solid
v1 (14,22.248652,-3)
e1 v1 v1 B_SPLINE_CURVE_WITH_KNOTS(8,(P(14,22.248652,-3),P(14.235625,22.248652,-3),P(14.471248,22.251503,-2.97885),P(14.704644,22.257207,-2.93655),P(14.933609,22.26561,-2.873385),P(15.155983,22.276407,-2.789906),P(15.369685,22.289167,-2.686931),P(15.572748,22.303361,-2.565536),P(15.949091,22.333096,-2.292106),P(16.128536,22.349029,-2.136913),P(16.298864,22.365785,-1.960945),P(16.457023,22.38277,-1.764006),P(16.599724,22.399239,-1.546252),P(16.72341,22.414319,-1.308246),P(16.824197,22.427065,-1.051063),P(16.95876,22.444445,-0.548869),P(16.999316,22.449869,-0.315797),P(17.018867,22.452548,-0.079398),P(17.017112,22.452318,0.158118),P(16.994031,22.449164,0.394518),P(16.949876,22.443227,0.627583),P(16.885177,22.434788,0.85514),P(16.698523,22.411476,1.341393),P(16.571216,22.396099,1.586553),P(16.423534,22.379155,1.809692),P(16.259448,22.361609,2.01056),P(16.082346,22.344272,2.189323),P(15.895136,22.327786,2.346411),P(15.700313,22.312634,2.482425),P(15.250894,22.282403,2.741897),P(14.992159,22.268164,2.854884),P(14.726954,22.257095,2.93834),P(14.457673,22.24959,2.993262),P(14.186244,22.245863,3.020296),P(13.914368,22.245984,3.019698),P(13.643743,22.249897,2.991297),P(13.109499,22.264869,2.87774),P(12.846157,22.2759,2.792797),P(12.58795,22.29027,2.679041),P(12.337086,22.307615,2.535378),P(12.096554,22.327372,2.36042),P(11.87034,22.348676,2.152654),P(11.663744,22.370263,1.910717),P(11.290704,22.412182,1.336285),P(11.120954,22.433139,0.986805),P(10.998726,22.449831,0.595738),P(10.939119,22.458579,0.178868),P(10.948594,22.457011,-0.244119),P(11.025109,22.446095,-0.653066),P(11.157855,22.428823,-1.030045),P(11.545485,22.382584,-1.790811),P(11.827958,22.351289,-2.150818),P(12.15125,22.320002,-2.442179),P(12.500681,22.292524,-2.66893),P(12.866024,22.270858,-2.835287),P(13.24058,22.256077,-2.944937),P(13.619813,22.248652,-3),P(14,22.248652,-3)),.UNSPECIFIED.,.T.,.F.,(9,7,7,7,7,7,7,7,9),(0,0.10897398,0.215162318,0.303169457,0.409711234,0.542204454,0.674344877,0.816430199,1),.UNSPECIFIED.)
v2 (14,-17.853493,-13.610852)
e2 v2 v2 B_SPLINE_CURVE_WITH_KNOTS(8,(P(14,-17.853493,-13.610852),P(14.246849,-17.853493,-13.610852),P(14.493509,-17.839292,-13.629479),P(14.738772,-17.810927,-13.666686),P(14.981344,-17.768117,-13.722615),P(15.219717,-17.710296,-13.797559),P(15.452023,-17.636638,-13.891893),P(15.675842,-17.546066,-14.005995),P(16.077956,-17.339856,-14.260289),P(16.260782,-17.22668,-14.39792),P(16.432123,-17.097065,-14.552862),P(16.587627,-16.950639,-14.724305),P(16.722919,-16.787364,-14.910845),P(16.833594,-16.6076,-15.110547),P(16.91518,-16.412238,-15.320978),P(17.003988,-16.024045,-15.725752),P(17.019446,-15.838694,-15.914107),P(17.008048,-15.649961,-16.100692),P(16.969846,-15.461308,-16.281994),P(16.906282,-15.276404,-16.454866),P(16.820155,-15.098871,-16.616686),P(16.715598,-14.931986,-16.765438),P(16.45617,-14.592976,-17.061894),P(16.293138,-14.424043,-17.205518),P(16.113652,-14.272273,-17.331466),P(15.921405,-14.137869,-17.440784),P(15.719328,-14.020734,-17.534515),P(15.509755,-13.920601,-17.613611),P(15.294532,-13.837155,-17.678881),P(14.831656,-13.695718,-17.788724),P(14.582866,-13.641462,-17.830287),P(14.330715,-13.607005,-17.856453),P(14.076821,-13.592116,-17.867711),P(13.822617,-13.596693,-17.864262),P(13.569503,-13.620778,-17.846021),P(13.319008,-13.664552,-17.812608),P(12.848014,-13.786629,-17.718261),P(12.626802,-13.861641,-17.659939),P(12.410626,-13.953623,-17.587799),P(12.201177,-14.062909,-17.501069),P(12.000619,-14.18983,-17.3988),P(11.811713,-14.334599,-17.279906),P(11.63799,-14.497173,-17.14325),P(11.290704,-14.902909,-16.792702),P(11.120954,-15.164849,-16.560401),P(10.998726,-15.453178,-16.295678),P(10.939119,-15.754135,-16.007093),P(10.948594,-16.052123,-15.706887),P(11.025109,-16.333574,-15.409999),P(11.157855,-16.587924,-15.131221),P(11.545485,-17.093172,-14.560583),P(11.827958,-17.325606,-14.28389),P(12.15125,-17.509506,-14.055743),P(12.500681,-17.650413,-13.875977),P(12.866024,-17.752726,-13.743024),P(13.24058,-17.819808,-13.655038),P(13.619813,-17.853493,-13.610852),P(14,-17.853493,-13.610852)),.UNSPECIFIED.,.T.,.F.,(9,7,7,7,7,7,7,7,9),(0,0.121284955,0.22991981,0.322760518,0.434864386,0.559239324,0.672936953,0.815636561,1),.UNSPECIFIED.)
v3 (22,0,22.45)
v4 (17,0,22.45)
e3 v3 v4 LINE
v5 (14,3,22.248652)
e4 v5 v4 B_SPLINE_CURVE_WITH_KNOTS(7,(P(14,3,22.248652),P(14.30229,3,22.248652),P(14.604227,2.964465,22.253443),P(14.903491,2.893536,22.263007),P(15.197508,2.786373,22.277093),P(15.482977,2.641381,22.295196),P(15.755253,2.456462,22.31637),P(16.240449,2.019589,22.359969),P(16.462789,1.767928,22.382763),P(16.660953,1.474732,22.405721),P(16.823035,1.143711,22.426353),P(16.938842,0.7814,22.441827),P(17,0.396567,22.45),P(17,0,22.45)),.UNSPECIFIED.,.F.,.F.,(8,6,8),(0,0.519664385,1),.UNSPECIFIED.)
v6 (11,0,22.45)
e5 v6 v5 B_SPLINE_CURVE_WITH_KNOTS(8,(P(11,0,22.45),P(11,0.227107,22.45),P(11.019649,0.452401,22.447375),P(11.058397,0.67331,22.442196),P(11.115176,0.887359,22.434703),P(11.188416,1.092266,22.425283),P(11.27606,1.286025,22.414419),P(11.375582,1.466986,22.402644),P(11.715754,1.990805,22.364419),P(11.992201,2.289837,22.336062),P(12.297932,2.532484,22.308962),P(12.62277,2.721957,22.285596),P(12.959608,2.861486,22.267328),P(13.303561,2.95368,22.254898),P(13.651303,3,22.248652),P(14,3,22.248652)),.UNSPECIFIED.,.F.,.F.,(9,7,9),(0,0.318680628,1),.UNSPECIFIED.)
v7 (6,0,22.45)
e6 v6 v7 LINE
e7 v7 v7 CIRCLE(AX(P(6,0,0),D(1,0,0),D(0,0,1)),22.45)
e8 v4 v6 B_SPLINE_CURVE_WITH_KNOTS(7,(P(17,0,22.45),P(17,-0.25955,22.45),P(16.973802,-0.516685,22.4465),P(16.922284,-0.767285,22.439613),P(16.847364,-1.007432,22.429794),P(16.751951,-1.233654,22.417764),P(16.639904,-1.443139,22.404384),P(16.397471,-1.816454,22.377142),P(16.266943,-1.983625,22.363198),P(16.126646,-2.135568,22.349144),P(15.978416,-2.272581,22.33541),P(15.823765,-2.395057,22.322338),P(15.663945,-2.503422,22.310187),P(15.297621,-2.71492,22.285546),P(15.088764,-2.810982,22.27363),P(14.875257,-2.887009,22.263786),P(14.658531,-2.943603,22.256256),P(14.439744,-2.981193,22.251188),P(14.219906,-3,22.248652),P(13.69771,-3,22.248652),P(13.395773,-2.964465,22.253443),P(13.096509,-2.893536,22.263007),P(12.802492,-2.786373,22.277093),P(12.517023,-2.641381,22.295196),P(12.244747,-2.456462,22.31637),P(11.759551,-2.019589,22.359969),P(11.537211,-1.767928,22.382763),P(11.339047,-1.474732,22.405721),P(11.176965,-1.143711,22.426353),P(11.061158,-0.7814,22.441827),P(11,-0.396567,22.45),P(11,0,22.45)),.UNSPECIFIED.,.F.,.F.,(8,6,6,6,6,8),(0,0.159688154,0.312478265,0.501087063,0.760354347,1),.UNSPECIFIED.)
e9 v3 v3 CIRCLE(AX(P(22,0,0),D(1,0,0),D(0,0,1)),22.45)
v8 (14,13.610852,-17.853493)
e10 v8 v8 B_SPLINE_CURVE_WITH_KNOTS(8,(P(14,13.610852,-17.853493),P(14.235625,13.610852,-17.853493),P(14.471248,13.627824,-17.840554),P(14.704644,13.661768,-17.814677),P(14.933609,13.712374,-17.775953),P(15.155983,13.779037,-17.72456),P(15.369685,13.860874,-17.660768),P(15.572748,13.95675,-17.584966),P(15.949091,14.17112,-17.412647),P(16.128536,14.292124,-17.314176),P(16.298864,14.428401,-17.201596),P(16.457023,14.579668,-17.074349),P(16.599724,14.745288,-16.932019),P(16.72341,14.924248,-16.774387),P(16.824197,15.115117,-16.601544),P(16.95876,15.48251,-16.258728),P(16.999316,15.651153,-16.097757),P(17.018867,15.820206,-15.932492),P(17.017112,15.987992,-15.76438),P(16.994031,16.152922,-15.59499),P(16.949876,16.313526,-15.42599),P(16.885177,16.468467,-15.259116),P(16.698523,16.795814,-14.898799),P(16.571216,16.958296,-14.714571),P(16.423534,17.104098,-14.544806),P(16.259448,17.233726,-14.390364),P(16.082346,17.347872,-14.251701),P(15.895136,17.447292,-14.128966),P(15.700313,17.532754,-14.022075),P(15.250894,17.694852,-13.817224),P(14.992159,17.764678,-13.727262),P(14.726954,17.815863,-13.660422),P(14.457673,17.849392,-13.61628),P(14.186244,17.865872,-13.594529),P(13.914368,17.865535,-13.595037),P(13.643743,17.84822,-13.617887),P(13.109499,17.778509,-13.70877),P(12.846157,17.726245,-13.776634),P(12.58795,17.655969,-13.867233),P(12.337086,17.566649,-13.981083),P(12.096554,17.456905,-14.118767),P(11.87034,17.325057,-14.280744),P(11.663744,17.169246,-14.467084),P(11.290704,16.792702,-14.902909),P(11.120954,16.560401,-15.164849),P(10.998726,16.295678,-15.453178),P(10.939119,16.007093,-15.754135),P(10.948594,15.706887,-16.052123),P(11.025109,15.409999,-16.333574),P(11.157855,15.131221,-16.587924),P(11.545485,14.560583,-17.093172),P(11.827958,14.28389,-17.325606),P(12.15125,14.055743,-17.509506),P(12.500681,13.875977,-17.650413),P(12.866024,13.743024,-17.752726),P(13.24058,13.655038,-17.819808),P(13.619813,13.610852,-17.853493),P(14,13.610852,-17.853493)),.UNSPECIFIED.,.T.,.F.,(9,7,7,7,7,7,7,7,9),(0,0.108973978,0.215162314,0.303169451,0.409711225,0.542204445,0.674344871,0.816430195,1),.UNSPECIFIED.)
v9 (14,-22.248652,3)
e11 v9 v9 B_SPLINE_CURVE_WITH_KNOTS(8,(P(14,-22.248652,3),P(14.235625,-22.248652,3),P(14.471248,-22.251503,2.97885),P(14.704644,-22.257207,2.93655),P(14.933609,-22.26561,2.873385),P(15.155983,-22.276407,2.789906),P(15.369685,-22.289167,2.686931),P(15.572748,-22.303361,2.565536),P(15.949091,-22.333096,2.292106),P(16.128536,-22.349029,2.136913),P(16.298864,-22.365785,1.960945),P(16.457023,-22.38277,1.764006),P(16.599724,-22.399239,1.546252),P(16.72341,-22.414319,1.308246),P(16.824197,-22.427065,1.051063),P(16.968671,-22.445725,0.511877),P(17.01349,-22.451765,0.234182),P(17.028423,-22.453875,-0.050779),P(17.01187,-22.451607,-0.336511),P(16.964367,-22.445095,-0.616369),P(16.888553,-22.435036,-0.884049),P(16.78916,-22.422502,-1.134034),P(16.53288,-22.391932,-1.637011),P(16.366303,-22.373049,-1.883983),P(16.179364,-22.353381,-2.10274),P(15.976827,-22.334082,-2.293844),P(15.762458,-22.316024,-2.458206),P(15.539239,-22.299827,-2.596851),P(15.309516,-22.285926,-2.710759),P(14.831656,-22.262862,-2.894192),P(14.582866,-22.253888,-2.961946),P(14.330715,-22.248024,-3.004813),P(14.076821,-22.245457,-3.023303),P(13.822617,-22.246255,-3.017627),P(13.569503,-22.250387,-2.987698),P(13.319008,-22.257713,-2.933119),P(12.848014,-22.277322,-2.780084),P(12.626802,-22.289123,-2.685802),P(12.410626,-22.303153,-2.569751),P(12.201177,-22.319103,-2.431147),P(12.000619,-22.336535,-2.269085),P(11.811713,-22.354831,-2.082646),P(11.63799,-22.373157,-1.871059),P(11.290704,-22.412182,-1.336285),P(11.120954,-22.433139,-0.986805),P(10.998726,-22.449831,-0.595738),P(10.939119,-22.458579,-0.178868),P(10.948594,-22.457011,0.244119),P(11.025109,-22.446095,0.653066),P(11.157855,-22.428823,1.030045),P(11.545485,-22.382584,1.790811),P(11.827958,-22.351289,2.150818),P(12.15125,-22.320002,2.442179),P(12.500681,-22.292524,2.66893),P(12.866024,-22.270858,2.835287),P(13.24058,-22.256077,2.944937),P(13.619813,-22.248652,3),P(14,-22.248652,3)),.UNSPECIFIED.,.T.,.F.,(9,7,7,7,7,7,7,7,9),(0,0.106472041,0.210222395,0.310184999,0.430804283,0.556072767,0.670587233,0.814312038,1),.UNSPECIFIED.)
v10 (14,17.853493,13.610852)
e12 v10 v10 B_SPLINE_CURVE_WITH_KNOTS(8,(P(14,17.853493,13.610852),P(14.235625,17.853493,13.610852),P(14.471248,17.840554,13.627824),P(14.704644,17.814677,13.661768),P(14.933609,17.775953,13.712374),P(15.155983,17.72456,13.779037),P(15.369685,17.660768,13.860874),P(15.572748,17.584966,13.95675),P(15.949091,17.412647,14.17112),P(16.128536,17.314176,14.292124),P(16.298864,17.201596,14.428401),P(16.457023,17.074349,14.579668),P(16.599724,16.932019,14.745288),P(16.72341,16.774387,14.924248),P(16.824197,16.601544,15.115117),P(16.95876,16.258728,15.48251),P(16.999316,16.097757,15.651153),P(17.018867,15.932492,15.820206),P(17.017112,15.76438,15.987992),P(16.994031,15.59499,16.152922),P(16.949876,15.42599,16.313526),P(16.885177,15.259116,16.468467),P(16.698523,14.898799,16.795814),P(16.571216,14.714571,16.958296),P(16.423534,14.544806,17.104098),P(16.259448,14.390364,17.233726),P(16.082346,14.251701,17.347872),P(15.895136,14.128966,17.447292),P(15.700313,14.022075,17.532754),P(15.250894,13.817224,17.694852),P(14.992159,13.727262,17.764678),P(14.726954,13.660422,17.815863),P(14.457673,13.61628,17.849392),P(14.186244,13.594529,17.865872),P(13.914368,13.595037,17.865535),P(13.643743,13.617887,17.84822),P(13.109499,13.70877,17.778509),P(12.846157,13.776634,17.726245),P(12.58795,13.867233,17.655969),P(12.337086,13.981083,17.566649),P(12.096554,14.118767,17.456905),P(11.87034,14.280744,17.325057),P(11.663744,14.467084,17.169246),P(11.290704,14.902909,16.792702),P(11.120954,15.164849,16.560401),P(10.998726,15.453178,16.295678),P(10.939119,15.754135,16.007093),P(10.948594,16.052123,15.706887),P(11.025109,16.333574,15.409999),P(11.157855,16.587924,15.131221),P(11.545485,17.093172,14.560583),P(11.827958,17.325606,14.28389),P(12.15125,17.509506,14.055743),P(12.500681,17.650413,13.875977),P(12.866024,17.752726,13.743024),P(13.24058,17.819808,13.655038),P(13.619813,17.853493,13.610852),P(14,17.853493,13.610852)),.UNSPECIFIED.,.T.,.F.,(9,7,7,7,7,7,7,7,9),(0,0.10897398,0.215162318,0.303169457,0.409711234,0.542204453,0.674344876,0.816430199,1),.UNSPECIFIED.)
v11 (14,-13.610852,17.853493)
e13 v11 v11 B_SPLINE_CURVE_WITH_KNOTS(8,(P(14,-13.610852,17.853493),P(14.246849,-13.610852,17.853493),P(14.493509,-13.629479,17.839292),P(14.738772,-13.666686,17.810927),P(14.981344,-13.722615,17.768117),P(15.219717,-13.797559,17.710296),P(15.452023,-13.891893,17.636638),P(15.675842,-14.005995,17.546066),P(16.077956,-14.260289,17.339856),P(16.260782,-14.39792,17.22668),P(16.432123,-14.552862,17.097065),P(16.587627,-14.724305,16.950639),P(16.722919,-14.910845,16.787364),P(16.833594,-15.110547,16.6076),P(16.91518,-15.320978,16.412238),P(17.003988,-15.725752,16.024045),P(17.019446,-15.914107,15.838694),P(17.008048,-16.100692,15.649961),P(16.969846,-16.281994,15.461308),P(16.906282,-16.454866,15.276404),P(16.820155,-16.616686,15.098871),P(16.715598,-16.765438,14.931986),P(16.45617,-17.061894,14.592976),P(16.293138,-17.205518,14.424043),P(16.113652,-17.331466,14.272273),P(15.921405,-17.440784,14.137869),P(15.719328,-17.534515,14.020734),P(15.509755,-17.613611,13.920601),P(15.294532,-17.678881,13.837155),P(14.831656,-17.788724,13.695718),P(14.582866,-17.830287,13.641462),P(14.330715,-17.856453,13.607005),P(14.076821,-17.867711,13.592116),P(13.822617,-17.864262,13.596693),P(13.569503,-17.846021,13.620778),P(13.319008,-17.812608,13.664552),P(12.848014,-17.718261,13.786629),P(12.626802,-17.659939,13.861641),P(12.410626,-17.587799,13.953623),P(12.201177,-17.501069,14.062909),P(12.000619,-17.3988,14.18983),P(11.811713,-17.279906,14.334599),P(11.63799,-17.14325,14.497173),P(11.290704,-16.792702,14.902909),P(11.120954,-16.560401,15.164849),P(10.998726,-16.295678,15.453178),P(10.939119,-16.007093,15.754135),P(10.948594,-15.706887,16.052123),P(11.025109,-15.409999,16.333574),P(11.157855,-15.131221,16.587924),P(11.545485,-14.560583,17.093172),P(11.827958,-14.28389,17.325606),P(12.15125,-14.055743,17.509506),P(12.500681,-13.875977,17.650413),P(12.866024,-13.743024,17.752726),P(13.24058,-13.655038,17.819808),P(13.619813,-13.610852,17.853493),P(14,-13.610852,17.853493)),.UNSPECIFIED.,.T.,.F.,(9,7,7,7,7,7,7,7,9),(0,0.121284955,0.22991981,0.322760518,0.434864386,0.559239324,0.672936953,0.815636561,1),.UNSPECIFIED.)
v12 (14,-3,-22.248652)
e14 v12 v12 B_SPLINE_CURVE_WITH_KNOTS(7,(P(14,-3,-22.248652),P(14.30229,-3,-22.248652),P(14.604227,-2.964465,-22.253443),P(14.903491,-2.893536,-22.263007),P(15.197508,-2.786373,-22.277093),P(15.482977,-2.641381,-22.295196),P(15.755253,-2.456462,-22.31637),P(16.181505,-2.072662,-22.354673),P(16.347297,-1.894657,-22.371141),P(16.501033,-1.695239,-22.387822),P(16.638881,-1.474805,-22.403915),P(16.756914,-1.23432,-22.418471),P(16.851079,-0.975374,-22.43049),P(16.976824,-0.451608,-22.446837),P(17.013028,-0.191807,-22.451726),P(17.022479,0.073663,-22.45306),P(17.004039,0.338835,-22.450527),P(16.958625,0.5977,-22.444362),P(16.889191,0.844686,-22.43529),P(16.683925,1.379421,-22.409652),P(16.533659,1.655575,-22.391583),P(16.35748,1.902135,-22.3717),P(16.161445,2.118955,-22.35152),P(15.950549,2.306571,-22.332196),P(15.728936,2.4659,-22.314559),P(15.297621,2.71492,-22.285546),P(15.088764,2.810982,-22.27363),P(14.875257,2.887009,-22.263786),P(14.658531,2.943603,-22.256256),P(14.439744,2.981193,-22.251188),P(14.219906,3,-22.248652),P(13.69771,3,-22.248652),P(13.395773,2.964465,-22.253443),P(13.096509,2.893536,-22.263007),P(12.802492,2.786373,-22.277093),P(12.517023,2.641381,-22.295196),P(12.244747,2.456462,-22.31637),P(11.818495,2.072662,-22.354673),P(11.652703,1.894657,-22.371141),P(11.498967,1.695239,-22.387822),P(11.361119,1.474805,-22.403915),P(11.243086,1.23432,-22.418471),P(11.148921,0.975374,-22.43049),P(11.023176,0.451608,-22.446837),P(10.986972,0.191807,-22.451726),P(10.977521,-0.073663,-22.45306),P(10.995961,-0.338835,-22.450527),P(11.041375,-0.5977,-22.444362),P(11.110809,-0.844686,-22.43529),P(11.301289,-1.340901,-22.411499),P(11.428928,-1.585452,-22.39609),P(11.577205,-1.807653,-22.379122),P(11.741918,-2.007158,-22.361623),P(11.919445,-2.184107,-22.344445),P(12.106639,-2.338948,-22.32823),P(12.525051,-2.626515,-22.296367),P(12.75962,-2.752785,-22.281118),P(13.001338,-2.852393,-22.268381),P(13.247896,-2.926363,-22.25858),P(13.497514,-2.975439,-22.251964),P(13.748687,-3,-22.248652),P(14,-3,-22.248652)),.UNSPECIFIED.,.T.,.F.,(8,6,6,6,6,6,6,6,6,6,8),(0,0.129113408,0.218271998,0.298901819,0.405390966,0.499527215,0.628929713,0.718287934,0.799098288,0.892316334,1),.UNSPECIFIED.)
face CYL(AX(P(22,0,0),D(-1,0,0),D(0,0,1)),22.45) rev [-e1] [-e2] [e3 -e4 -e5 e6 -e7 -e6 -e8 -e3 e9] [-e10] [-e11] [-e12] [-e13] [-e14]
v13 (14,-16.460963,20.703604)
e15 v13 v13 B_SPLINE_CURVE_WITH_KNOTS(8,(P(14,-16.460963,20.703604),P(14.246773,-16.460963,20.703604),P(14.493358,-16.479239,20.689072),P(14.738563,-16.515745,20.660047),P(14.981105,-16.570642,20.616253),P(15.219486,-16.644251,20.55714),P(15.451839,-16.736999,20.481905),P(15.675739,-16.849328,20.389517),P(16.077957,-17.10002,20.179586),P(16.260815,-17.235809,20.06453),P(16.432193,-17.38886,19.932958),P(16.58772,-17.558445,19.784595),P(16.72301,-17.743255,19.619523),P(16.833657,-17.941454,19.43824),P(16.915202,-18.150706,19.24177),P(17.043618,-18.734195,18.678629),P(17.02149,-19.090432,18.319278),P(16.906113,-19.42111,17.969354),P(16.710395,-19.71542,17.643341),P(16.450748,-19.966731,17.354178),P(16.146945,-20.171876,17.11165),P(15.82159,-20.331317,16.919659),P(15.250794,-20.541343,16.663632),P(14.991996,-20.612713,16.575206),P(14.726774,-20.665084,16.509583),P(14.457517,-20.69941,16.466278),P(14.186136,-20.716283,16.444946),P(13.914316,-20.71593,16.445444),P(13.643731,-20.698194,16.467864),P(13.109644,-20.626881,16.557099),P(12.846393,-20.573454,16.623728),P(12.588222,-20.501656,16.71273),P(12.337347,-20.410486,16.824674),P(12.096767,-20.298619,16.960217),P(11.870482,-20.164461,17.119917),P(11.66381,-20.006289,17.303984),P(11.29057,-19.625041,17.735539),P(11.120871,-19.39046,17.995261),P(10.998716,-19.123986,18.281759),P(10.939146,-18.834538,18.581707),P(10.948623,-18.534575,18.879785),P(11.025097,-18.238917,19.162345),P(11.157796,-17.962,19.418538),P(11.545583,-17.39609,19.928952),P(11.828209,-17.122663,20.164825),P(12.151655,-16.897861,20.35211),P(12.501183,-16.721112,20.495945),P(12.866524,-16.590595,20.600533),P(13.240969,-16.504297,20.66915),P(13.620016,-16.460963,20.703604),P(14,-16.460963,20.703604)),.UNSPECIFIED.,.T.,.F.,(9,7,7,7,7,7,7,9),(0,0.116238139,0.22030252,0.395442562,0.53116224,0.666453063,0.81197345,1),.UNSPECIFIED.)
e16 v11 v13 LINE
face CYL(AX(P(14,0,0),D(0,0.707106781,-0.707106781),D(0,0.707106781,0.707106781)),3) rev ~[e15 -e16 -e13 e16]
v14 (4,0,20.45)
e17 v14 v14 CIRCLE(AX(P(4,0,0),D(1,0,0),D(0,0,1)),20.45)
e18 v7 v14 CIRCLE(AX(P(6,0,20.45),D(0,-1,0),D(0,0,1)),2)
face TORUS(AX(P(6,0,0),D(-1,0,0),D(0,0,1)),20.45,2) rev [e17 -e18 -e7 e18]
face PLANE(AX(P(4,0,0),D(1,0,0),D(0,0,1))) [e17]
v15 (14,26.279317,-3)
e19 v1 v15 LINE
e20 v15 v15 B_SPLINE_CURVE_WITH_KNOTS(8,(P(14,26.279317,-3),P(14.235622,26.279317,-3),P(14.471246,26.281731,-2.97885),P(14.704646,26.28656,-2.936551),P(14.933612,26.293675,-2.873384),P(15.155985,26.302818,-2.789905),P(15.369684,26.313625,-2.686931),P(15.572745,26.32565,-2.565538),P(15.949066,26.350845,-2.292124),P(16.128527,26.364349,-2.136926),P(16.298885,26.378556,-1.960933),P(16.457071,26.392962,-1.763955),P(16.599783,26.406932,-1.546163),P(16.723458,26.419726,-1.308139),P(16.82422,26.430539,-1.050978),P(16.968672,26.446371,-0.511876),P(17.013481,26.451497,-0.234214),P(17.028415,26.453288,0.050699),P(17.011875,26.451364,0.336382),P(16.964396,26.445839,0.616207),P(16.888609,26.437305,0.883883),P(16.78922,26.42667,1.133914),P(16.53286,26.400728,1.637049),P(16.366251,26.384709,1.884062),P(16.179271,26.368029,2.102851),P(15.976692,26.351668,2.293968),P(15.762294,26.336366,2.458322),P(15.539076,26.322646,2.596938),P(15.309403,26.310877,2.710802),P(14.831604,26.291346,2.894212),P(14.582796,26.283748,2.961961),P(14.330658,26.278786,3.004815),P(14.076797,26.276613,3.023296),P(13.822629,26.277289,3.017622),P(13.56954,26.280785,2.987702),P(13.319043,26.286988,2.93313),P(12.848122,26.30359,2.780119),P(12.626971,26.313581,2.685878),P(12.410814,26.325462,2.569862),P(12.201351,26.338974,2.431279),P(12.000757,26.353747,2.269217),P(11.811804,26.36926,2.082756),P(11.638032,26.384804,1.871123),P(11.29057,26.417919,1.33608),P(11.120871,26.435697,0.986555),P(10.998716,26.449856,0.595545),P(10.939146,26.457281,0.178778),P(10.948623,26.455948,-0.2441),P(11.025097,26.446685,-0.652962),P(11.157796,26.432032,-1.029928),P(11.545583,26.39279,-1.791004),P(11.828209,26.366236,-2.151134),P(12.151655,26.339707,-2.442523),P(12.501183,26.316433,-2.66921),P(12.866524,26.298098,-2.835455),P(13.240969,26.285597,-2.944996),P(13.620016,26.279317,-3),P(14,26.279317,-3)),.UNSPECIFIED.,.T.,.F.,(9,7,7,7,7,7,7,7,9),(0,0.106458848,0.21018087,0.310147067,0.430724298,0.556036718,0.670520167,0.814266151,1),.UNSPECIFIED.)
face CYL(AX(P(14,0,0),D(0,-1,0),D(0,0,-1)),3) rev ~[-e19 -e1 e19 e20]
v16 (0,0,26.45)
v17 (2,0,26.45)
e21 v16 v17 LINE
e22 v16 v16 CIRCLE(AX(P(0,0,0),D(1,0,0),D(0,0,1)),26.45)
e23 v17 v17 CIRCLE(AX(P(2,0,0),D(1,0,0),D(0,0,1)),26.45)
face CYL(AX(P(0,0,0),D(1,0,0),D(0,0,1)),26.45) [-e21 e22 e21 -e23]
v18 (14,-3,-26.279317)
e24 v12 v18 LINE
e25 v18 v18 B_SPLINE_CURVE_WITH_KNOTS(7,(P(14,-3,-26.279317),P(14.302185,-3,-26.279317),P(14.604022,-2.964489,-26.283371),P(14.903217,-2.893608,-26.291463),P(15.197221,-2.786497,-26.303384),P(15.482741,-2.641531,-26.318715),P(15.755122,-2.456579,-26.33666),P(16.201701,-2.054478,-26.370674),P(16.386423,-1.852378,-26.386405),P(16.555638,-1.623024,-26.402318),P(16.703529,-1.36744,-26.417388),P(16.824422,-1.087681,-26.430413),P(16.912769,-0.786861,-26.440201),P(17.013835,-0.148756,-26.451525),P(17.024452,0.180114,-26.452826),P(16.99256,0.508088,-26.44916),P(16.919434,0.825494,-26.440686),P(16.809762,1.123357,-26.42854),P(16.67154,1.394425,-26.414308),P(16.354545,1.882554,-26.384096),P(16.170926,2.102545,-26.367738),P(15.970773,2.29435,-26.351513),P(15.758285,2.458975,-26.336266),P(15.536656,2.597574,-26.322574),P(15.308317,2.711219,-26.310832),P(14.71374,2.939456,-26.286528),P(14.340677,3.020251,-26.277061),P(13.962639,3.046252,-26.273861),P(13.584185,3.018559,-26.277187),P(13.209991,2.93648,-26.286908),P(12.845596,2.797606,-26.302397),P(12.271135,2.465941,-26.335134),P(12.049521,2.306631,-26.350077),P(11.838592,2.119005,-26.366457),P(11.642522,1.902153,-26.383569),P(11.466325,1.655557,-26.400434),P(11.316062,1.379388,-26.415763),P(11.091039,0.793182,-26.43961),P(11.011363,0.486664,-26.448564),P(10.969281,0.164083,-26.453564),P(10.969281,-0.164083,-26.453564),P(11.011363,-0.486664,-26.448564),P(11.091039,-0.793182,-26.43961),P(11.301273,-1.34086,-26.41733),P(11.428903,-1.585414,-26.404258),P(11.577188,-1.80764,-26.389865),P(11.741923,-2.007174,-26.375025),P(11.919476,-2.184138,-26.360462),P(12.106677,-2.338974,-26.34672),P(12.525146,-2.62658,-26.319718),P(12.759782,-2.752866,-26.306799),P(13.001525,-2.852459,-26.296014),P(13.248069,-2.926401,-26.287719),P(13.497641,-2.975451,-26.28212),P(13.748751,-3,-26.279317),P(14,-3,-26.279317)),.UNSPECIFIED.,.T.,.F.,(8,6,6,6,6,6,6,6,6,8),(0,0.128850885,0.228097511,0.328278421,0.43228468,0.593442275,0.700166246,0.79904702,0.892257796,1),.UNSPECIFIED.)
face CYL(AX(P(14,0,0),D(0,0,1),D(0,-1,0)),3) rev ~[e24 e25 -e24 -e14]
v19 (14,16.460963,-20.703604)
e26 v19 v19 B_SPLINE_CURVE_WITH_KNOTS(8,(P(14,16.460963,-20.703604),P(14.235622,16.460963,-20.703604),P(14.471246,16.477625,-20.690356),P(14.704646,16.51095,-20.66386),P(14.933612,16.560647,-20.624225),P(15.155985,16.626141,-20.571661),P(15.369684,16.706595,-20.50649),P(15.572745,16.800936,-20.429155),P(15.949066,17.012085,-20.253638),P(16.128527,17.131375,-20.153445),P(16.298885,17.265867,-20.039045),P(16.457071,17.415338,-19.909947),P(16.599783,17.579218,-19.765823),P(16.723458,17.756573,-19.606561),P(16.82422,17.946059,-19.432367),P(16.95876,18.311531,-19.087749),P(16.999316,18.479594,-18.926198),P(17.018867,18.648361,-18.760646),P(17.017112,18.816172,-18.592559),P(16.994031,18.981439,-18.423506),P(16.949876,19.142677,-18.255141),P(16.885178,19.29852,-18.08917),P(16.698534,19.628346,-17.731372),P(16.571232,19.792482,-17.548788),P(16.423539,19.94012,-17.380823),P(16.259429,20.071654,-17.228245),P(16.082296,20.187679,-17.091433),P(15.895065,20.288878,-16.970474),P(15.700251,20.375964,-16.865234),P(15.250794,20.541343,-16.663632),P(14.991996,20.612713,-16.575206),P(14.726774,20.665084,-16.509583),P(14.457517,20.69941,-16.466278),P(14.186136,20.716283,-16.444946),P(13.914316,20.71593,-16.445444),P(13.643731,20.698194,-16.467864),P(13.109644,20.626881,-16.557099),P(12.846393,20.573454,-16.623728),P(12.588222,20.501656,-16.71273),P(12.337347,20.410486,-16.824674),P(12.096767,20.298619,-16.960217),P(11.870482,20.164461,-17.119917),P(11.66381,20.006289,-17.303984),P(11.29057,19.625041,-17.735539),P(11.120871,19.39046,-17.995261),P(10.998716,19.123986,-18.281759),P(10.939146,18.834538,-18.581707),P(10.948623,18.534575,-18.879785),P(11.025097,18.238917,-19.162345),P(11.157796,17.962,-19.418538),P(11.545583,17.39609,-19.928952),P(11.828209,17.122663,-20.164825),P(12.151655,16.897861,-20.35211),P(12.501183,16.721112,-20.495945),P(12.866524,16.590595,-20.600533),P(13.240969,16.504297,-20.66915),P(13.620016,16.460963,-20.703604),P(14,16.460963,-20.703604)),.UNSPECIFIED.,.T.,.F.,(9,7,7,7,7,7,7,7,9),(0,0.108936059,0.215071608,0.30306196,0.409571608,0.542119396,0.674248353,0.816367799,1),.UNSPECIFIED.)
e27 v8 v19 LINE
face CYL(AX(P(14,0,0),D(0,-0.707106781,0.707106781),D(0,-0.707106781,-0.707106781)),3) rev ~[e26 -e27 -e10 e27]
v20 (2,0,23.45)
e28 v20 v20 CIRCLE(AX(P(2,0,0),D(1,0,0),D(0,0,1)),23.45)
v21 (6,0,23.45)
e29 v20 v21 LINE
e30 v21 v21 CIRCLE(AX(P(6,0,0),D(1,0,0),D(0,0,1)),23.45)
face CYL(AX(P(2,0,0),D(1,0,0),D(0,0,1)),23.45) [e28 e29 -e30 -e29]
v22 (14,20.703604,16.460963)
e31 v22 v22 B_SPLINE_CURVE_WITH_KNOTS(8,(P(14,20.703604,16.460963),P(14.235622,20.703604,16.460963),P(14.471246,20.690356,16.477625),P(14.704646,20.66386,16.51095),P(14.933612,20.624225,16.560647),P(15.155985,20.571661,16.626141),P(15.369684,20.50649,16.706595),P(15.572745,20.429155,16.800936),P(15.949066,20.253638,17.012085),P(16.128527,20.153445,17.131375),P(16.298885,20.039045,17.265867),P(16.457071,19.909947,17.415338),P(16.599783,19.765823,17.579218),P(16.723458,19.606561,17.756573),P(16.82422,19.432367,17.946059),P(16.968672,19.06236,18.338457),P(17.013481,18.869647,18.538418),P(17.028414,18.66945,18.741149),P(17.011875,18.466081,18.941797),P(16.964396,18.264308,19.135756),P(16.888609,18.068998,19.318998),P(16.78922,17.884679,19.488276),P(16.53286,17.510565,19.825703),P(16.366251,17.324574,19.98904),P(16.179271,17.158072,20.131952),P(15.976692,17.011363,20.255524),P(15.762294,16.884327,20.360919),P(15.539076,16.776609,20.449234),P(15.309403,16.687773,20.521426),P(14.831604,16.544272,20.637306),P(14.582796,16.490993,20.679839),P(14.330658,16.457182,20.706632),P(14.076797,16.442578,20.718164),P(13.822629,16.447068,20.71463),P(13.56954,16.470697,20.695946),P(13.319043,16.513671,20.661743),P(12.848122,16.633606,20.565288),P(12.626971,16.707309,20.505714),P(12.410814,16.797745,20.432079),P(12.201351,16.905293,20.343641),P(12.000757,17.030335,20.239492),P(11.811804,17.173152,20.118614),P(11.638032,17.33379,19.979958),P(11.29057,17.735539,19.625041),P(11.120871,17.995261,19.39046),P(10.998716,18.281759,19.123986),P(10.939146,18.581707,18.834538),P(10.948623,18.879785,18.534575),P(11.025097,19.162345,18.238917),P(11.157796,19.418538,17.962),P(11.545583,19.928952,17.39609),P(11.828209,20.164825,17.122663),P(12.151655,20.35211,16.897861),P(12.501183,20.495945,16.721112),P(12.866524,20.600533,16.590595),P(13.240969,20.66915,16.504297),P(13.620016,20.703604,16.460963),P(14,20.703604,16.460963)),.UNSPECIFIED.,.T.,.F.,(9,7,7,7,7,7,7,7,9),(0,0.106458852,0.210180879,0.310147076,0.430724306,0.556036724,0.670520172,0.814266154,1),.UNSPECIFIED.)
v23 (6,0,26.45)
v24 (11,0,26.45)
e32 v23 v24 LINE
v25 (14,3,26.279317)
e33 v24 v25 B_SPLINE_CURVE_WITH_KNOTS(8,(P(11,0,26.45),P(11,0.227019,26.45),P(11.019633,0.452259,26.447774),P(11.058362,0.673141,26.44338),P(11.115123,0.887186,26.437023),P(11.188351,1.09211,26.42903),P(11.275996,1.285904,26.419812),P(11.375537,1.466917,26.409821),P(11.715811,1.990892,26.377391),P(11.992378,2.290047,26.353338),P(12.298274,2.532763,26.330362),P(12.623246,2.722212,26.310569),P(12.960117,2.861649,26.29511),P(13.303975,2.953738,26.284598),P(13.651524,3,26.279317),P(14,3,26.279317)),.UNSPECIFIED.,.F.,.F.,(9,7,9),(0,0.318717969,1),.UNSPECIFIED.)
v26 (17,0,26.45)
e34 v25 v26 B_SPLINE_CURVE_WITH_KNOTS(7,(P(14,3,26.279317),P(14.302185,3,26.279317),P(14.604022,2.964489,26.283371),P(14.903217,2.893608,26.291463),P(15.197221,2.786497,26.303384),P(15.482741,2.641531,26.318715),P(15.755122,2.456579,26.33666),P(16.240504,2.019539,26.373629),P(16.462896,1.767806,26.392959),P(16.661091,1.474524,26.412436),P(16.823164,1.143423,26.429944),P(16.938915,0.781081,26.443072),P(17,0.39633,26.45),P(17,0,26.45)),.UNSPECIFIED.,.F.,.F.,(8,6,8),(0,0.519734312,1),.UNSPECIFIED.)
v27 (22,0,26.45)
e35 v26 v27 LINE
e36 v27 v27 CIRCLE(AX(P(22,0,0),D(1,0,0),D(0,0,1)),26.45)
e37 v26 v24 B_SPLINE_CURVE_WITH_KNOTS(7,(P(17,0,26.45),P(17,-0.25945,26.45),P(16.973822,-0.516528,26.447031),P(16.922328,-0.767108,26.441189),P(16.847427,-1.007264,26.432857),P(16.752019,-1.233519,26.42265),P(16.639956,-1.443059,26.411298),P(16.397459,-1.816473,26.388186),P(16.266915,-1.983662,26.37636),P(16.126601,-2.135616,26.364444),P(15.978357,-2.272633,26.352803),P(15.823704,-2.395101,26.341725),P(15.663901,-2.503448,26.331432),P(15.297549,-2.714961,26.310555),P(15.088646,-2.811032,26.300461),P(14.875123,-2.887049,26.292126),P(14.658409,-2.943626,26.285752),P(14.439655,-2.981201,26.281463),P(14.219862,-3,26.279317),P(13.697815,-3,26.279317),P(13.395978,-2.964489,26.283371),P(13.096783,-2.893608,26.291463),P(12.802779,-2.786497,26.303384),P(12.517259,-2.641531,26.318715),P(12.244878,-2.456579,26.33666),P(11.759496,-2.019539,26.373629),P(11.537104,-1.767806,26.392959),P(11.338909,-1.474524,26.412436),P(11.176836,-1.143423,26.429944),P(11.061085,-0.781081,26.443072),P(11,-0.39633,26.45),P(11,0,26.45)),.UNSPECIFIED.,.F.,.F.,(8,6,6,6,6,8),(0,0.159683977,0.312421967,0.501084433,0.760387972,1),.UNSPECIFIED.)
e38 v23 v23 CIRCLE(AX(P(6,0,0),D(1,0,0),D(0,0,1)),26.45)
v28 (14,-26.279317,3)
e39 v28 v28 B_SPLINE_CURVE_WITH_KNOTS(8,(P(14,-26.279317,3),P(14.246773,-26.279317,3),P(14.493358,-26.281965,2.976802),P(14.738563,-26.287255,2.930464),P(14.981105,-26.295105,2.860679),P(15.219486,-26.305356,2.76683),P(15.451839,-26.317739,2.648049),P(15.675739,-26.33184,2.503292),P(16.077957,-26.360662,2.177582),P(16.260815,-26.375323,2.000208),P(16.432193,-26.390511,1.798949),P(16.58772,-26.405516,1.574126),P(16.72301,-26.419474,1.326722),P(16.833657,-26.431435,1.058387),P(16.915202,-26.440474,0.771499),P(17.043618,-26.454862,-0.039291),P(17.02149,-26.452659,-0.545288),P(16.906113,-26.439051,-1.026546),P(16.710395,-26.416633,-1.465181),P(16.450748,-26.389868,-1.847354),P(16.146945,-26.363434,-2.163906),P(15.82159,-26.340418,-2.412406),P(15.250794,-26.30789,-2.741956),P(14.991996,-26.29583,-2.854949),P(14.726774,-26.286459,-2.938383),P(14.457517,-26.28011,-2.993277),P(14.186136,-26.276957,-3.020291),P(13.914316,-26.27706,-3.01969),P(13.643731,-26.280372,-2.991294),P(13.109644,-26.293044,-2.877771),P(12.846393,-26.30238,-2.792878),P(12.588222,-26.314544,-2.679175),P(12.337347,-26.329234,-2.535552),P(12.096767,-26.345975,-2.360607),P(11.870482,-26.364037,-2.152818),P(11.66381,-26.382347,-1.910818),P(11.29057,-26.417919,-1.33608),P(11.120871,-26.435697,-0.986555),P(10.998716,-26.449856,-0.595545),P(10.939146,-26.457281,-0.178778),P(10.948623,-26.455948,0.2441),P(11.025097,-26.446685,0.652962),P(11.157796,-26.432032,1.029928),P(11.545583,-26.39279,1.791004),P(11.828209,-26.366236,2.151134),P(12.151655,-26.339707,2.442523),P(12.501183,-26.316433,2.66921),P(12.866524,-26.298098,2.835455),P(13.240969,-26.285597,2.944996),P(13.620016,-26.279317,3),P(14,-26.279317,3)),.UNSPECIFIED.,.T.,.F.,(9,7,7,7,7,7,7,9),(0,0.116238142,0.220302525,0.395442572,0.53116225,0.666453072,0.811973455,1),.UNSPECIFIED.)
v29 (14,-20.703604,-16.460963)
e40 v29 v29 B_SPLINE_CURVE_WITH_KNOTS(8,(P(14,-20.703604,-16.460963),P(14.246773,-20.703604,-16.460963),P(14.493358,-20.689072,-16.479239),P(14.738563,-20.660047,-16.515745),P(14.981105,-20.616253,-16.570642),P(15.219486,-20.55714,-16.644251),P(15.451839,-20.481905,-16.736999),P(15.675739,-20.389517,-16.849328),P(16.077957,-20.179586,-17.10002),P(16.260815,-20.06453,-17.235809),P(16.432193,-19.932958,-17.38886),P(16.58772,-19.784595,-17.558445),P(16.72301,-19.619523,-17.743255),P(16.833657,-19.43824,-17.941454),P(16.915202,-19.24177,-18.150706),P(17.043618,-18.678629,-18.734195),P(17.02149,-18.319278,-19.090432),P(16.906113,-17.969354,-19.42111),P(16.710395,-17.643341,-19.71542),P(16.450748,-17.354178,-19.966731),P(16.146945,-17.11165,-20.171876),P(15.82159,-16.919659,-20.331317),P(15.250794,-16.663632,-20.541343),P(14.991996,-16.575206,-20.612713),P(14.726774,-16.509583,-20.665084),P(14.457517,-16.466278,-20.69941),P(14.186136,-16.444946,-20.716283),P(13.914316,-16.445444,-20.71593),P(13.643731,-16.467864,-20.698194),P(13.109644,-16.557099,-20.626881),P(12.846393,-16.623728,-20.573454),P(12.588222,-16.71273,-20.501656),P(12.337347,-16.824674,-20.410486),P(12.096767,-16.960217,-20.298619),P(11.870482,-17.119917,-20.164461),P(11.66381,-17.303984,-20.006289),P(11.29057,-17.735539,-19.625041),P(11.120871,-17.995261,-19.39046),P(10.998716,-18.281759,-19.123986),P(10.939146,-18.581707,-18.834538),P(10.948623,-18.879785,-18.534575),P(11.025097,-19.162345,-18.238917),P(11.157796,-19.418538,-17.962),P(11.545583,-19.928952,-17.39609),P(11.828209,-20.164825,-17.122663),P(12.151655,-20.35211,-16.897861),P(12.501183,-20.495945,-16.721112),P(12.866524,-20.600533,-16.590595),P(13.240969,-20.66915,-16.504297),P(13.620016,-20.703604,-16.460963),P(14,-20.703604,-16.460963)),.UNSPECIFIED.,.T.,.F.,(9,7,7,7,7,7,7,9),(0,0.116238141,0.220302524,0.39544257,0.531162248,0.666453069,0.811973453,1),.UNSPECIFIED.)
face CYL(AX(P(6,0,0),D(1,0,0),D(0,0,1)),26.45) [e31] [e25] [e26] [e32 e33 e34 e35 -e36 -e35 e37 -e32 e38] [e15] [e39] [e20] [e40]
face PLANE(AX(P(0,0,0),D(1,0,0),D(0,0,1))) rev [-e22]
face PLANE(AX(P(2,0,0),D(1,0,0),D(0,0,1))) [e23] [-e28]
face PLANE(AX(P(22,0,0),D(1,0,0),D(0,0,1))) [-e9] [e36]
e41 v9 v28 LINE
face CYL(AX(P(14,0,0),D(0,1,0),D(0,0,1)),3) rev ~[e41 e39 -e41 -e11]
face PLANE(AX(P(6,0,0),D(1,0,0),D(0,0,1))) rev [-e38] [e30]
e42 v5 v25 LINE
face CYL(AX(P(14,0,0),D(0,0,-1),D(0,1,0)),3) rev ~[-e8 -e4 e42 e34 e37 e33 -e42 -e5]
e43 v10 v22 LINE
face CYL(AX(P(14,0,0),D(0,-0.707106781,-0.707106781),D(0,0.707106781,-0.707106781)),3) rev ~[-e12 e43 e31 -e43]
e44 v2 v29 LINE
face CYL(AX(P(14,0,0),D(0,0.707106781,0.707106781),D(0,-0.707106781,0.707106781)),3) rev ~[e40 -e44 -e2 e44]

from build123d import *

# Parameters (mm, degrees)
SKETCH2_R          = 3
CUT_EXTRUDE1_DEPTH = 100
CIRPATTERN1_COUNT  = 8
FILLET1_R          = 2


with BuildPart() as part:
    # Sketch1 → Revolve1 (revolve)
    with BuildSketch(Plane(origin=(0, 0, 0), x_dir=(1, 0, 0), z_dir=(0, 1, 0)), mode=Mode.PRIVATE) as revolve1_sk:
        Polygon((0, 0), (0, 26.45), (2, 26.45), (2, 23.45), (6, 23.45), (6, 26.45), (22, 26.45), (22, 22.45), (4, 22.45), (4, 0), align=None)
    revolve(revolve1_sk.sketch.rotate(Axis((0, 0, 0), (1, 0, 0)), 180), axis=Axis((0, 0, 0), (1, 0, 0)))

    # Sketch2 → Cut-Extrude1 (cut)
    with BuildSketch(Plane(origin=(0, 0, 0), x_dir=(1, 0, 0), z_dir=(0, 1, 0))):
        with Locations(Location((14, 0, 0), (0, 0, 270))):
            Circle(SKETCH2_R)
    cut_extrude1 = extrude(amount=-CUT_EXTRUDE1_DEPTH, mode=Mode.SUBTRACT)

    # CirPattern1: Cut-Extrude1 ×8 about axis
    cirpattern1_axis = Axis((4, 0, 0), (1, 0, 0))
    for i in range(1, CIRPATTERN1_COUNT):
        add(cut_extrude1.rotate(cirpattern1_axis, i * 360 / CIRPATTERN1_COUNT), mode=Mode.SUBTRACT)

    # Fillet1
    fillet1_edges = [part.edges().sort_by_distance(p)[0] for p in [
        (4, 0, -22.45),
    ]]
    fillet(fillet1_edges, radius=FILLET1_R)


solid = part.part
